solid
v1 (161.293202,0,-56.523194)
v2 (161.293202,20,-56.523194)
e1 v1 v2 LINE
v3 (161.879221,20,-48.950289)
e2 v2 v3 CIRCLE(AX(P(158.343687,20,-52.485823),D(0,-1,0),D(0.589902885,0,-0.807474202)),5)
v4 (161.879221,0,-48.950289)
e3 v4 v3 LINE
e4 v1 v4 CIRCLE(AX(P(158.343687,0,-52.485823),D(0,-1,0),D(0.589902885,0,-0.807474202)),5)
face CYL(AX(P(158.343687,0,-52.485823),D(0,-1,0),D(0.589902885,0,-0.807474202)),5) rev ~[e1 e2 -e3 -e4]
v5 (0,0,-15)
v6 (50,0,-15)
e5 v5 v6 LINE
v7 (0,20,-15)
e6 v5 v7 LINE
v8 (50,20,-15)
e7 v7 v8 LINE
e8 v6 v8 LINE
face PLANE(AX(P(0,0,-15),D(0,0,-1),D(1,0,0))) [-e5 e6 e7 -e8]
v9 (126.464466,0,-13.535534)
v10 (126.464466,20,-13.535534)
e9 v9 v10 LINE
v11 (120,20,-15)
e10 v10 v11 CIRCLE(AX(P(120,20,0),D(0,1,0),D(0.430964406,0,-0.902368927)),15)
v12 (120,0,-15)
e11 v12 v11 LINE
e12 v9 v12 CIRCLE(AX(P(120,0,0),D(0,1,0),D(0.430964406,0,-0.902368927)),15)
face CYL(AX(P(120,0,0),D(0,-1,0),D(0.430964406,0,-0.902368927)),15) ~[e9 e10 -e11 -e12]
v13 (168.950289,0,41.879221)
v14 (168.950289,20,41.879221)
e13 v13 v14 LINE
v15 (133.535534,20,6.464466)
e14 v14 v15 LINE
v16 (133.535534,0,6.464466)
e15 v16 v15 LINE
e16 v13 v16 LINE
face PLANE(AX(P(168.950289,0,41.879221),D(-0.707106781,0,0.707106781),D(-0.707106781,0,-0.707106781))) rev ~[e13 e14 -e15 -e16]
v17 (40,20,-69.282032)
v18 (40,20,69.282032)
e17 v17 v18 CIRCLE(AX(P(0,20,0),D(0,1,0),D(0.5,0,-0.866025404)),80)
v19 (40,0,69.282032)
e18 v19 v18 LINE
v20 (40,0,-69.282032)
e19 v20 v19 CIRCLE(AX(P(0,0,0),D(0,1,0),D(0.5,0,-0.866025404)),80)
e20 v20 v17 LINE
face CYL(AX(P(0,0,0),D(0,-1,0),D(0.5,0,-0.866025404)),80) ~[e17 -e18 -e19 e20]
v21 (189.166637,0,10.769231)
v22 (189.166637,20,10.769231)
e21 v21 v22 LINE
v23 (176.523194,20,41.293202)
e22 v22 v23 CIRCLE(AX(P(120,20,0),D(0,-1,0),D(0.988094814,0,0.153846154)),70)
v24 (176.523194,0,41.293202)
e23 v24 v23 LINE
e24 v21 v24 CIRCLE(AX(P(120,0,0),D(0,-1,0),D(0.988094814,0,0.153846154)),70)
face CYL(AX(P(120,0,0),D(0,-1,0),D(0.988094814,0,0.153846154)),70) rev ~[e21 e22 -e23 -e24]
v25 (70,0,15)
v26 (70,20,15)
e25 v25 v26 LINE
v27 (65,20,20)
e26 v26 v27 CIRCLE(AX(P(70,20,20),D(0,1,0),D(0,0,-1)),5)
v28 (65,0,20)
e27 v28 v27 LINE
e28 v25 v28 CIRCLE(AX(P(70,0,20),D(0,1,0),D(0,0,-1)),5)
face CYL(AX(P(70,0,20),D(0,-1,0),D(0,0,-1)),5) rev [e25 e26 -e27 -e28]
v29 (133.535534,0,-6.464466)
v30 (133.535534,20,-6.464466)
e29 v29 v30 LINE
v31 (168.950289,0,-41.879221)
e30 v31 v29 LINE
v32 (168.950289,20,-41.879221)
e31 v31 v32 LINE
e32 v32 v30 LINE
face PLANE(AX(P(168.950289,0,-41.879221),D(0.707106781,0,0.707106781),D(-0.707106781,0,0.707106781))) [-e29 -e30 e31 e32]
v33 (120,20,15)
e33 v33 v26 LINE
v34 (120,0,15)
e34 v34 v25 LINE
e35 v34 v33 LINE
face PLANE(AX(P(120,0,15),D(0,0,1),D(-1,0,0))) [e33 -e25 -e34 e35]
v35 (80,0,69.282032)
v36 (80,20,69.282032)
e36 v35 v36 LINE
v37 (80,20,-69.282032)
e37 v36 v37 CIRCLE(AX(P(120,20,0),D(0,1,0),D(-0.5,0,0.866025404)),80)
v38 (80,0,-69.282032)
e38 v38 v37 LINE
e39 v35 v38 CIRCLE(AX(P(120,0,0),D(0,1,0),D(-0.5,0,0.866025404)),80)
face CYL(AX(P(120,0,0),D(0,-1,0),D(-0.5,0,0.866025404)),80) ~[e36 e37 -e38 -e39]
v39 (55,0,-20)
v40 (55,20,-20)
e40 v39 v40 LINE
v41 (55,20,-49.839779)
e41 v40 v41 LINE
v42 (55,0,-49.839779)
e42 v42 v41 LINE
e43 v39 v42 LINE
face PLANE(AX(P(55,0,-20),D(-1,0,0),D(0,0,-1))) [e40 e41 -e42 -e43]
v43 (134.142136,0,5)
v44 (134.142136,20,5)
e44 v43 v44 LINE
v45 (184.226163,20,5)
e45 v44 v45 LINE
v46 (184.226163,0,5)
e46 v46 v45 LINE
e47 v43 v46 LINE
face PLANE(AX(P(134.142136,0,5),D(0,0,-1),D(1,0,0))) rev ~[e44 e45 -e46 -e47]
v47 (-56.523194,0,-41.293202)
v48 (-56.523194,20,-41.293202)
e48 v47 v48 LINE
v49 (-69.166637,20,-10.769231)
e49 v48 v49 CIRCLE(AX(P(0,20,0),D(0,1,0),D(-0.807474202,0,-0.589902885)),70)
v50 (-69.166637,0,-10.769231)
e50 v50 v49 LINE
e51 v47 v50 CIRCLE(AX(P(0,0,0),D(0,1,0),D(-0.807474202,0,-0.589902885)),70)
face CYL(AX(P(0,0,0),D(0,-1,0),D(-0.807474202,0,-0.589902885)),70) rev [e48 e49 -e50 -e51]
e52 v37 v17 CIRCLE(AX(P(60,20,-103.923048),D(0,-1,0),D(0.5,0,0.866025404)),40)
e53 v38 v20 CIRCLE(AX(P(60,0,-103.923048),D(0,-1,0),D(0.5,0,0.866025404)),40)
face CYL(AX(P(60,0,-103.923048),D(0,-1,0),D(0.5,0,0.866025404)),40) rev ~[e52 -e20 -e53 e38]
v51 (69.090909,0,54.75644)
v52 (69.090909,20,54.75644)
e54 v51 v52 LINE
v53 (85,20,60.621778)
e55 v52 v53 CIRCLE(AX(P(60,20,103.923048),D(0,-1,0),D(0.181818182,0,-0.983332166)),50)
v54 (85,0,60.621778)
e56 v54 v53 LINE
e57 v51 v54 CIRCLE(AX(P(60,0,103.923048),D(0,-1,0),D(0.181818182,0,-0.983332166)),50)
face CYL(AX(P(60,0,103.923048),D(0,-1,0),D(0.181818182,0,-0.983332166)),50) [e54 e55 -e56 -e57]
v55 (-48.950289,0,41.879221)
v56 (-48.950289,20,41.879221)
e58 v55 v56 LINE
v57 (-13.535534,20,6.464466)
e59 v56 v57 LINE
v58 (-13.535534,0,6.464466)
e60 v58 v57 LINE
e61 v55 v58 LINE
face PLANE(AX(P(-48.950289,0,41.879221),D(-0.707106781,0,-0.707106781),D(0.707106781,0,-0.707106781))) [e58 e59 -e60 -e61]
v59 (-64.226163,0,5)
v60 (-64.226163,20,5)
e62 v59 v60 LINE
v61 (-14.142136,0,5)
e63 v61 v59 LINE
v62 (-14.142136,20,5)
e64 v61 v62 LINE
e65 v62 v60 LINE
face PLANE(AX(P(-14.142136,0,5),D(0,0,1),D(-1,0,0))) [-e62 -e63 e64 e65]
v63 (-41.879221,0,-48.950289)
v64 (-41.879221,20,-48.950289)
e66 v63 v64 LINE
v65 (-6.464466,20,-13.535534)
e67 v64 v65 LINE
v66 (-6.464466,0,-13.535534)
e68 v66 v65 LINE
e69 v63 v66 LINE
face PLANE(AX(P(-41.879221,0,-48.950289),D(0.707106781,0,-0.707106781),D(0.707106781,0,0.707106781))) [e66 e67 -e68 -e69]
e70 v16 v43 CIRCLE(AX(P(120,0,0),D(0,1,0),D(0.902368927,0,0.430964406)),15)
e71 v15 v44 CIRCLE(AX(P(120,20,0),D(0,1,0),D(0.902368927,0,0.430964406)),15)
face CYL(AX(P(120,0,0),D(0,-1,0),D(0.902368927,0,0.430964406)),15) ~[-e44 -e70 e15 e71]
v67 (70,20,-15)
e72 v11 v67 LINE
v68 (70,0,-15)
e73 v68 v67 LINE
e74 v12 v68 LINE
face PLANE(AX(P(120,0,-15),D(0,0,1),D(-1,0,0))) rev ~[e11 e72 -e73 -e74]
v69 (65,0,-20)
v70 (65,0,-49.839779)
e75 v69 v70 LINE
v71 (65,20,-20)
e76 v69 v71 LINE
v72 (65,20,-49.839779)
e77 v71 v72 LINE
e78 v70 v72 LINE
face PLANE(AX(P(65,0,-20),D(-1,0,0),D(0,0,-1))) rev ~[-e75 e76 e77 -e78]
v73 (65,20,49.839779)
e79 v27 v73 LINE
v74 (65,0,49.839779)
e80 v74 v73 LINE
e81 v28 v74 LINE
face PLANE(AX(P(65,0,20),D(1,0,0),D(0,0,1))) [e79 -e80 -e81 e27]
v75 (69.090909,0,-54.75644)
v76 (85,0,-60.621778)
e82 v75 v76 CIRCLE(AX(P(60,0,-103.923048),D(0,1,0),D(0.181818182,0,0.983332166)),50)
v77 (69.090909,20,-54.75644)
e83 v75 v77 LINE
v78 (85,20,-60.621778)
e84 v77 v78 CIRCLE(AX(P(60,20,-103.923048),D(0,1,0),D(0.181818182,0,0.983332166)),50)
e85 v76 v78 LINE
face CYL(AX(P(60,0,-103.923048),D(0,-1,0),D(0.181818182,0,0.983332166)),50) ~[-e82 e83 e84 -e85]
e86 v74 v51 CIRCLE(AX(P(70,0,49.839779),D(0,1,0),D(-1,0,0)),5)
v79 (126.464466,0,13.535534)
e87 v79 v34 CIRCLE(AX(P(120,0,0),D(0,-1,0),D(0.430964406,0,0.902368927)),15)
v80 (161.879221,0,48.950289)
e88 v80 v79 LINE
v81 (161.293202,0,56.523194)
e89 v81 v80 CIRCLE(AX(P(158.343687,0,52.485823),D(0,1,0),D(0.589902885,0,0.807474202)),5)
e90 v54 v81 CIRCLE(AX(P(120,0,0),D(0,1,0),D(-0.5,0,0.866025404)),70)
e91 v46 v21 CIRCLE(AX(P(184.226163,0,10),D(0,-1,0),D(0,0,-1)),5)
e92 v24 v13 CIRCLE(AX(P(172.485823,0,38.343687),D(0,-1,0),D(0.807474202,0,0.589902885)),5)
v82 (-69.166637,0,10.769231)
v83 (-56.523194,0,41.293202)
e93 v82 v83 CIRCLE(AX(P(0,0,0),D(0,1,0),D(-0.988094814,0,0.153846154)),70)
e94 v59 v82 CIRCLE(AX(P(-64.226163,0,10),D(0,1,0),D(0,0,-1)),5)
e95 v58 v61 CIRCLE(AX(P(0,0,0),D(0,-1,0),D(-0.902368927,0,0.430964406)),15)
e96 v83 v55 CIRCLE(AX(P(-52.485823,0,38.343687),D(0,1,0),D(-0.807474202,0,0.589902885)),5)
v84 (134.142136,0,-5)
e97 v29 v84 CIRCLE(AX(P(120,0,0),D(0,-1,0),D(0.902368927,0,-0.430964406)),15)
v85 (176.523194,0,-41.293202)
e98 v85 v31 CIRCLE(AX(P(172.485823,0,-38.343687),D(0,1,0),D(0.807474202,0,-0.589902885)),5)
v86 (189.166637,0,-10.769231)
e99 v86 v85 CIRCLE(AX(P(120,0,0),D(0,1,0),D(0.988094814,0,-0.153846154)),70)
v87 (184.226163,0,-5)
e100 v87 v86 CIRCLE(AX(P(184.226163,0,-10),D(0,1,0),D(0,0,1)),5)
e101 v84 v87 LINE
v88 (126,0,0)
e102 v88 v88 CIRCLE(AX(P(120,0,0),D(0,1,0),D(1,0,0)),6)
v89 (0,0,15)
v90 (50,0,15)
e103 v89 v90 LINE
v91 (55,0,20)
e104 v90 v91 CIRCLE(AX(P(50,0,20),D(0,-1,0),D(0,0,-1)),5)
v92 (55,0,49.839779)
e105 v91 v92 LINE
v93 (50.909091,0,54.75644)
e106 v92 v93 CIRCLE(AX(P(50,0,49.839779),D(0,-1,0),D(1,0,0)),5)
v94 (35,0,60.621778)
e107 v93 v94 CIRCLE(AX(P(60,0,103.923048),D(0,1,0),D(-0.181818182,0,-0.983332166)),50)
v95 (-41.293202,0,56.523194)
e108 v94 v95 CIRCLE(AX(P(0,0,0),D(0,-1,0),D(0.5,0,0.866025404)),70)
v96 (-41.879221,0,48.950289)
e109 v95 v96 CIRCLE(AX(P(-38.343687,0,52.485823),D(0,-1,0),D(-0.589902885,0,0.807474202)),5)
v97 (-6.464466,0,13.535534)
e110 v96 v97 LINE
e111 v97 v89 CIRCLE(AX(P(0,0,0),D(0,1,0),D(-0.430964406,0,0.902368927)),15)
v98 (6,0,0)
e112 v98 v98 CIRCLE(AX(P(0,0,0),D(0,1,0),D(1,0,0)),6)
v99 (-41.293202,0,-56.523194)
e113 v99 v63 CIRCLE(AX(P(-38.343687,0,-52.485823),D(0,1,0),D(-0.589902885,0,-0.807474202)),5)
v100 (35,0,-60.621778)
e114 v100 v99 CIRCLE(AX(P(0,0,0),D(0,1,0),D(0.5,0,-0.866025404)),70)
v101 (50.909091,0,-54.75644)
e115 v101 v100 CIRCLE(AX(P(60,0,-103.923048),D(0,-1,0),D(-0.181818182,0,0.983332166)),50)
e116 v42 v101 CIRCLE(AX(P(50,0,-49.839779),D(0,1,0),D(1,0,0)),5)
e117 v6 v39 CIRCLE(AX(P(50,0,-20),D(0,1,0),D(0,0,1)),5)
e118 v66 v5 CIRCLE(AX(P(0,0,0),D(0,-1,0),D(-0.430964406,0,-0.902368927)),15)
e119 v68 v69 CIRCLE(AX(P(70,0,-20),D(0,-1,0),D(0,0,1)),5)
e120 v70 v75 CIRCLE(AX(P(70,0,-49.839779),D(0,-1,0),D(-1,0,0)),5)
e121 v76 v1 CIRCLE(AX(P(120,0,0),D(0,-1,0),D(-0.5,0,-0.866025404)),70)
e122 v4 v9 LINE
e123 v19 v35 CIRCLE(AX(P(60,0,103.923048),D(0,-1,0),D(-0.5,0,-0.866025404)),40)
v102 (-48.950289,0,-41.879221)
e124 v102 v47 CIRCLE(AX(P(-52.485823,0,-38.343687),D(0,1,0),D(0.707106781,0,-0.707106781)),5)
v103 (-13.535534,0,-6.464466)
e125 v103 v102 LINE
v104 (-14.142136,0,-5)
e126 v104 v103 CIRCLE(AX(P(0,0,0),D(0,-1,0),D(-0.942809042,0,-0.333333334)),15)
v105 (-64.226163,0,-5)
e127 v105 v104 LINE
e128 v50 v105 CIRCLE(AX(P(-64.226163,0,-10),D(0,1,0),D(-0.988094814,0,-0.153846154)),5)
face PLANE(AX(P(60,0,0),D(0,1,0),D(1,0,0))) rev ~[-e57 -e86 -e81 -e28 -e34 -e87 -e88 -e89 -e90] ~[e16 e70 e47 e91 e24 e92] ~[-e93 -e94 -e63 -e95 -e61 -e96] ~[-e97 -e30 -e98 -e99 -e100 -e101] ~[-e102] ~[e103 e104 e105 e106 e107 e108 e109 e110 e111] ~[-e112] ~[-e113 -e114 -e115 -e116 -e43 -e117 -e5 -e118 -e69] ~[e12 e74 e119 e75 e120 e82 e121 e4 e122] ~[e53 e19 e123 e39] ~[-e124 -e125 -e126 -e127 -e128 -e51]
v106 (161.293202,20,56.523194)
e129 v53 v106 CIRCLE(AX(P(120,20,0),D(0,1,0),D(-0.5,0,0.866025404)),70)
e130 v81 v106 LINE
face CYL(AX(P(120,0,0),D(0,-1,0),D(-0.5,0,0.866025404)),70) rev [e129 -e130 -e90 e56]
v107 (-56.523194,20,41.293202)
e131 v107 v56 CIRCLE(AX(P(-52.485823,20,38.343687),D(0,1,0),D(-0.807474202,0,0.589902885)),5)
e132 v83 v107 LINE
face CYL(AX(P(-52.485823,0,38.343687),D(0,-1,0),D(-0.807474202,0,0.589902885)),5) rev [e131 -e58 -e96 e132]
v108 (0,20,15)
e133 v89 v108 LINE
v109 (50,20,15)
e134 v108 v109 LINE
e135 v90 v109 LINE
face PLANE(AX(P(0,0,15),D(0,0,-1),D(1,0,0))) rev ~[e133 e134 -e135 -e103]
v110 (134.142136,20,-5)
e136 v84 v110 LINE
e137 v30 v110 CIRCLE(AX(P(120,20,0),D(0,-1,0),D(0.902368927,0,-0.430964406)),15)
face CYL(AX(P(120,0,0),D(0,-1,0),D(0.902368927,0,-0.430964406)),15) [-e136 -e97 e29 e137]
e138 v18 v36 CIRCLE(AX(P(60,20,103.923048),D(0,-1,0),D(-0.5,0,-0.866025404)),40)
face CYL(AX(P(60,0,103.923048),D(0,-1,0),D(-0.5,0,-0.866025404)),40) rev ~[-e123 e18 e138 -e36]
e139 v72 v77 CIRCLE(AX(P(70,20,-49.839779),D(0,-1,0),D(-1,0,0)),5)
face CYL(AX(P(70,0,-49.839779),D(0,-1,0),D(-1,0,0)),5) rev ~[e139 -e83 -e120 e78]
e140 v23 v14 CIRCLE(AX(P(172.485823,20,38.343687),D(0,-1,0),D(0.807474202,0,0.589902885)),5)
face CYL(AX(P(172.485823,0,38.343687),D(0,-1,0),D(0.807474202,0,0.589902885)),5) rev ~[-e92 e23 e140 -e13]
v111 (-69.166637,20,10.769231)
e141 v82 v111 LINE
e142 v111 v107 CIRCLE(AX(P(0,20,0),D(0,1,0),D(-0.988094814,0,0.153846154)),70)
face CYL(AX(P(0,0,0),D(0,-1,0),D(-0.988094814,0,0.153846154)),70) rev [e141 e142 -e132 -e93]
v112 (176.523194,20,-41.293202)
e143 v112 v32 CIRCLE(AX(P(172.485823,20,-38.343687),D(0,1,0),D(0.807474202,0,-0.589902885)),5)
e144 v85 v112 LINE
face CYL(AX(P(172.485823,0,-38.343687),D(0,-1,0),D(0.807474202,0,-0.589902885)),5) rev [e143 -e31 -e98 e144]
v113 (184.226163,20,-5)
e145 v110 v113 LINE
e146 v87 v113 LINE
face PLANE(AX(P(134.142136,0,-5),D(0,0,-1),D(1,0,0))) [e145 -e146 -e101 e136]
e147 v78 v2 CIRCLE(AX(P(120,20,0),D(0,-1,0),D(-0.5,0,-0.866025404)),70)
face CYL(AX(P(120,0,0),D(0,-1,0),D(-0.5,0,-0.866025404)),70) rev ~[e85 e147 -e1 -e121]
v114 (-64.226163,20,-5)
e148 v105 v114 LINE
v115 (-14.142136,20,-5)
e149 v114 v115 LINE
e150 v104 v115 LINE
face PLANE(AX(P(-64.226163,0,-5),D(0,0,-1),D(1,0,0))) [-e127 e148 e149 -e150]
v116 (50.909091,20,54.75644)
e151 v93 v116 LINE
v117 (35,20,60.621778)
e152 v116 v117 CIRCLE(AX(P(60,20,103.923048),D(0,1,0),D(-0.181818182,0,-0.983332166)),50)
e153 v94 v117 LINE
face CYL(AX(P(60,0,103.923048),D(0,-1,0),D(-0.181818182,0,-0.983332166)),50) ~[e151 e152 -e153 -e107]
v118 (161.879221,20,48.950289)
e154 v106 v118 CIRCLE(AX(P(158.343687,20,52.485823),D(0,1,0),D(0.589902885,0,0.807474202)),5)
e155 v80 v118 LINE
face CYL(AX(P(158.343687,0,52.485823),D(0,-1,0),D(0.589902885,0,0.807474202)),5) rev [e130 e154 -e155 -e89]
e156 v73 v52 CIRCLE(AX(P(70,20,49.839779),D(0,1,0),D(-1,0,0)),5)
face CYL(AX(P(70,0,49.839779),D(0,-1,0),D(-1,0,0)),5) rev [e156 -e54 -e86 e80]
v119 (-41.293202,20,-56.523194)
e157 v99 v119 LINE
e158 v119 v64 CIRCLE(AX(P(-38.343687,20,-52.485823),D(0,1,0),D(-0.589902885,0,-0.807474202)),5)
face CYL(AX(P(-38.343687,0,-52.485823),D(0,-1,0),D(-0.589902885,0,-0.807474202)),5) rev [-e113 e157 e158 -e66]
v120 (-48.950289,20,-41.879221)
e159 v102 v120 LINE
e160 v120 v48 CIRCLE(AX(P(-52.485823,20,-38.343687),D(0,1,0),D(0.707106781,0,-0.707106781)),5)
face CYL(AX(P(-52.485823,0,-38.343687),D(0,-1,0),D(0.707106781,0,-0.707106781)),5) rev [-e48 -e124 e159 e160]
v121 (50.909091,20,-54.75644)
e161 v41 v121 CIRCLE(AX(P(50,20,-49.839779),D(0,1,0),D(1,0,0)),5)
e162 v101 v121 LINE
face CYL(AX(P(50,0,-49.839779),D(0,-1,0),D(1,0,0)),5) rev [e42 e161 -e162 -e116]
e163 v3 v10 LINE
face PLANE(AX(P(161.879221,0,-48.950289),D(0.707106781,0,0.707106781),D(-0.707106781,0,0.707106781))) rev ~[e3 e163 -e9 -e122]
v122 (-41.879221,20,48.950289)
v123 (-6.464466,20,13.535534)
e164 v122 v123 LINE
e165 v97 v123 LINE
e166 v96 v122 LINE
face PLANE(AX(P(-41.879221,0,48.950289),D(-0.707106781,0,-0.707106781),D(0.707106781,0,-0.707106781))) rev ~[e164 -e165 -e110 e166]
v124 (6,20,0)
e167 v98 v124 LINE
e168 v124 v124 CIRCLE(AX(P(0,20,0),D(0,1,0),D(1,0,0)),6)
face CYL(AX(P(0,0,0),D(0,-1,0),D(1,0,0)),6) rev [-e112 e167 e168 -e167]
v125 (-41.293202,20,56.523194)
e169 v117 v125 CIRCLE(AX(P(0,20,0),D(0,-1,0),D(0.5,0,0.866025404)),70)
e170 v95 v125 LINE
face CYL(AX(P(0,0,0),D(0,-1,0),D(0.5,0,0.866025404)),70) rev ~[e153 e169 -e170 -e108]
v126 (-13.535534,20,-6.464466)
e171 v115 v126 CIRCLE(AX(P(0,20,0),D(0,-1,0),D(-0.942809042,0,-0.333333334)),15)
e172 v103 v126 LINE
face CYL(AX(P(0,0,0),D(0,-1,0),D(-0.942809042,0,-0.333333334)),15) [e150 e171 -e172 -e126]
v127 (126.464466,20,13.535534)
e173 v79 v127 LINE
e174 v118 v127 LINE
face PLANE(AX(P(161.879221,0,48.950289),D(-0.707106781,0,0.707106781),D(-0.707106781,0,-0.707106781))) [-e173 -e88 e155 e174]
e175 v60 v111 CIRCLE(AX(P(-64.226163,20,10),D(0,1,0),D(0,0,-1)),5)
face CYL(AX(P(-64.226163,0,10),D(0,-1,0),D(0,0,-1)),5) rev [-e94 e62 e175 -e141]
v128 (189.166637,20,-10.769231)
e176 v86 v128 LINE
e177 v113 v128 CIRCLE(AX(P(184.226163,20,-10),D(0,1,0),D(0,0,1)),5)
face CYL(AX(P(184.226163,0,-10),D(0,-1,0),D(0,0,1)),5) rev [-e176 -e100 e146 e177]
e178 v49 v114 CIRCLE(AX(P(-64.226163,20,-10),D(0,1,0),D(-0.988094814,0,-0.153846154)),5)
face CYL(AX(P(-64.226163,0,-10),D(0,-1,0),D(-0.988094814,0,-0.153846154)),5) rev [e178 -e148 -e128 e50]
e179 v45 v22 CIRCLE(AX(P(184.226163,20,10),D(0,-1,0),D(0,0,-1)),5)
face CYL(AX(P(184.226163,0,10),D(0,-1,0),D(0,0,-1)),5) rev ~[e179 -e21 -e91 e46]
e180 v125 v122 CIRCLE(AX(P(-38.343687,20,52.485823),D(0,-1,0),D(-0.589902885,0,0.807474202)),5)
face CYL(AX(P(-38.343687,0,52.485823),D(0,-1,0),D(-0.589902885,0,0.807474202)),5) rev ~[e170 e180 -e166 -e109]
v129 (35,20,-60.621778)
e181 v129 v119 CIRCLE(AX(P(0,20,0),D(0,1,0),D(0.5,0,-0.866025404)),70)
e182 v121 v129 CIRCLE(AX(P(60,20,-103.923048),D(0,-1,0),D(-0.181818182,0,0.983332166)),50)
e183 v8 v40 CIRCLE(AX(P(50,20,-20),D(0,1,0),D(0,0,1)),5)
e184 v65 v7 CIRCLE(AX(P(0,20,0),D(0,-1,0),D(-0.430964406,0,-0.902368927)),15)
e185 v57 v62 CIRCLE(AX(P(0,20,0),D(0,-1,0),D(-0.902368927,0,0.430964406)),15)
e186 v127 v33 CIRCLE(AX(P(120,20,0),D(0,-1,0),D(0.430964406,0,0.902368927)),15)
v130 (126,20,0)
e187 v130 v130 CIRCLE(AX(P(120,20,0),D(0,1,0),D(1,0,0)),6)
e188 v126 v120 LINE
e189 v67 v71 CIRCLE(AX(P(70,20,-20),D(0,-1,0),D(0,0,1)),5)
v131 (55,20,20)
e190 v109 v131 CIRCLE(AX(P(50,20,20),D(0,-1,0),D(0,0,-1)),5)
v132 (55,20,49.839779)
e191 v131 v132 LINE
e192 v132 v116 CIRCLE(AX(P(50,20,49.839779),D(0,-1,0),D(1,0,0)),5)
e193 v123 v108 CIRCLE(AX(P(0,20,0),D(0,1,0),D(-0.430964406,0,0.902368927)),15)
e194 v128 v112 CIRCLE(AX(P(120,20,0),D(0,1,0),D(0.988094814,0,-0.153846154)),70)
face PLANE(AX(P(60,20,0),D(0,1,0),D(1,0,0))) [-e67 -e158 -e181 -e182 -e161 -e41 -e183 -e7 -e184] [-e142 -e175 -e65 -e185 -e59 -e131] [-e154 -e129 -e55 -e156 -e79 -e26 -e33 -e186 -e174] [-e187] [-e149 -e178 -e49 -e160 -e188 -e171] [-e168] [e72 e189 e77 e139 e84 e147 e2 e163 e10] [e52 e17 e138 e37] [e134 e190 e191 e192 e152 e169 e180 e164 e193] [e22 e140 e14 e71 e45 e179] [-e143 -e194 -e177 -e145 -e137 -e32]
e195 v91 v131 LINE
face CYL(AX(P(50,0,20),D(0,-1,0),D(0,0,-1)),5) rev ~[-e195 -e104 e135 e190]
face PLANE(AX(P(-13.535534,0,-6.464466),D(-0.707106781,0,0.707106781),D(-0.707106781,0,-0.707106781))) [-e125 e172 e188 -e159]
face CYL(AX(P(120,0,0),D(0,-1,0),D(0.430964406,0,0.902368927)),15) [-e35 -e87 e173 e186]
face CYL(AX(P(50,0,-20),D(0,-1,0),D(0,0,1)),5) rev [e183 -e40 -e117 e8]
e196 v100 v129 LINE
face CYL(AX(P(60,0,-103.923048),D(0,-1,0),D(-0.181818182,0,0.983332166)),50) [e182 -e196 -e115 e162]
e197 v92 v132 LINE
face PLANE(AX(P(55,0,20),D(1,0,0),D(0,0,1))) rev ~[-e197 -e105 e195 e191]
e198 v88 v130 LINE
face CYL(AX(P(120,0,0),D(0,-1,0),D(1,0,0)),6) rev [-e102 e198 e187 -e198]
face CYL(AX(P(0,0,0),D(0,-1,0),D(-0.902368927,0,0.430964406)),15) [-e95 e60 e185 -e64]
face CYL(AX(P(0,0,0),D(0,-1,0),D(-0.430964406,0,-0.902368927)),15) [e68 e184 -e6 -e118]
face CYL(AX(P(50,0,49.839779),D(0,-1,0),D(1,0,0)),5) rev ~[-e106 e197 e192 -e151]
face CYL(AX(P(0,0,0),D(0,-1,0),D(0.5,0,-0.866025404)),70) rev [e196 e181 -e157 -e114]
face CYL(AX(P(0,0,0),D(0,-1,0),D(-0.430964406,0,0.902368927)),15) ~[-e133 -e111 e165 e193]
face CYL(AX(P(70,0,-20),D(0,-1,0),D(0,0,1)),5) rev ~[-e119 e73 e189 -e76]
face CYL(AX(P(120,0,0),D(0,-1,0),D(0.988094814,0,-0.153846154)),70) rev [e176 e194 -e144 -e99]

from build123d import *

# Parameters (mm, degrees)
SKETCH1_R           = 6
BOSS_EXTRUDE1_DEPTH = 20


with BuildPart() as part:
    # Sketch1 → Boss-Extrude1 (new body)
    with BuildSketch(Plane(origin=(0, 0, 0), x_dir=(1, 0, 0), z_dir=(0, 1, 0))):
        with BuildLine():
            ThreePointArc((40, 69.282032303), (-80, 0), (40, -69.282032303))
            ThreePointArc((40, -69.282032303), (60, -63.923048454), (80, -69.282032303))
            ThreePointArc((80, -69.282032303), (200, 0), (80, 69.282032303))
            ThreePointArc((80, 69.282032303), (60, 63.923048454), (40, 69.282032303))
        make_face()
        Circle(SKETCH1_R, mode=Mode.SUBTRACT)
        with Locations((120, 0)):
            Circle(SKETCH1_R, mode=Mode.SUBTRACT)
        with BuildLine():
            Line((55, 20), (55, 49.839779322))
            ThreePointArc((55, 49.839779322), (53.843530574, 53.037790068), (50.909090909, 54.756440152))
            ThreePointArc((50.909090909, 54.756440152), (42.704102554, 57.009810114), (35, 60.621778265))
            ThreePointArc((35, 60.621778265), (-3.755089291, 69.899208182), (-41.293201923, 56.523194133))
            ThreePointArc((-41.293201923, 56.523194133), (-43.328783805, 52.871588373), (-41.879221406, 48.950289217))
            Line((-41.879221406, 48.950289217), (-6.464466094, 13.535533906))
            ThreePointArc((-6.464466094, 13.535533906), (-3.31413574, 14.629302933), (0, 15))
            Line((0, 15), (50, 15))
            ThreePointArc((50, 15), (53.535533906, 16.464466094), (55, 20))
        make_face(mode=Mode.SUBTRACT)
        with BuildLine():
            Line((0, -15), (50, -15))
            ThreePointArc((50, -15), (53.535533906, -16.464466094), (55, -20))
            Line((55, -20), (55, -49.839779322))
            ThreePointArc((55, -49.839779322), (53.843530574, -53.037790068), (50.909090909, -54.756440152))
            ThreePointArc((50.909090909, -54.756440152), (42.704102554, -57.009810114), (35, -60.621778265))
            ThreePointArc((35, -60.621778265), (-3.755089291, -69.899208182), (-41.293201923, -56.523194133))
            ThreePointArc((-41.293201923, -56.523194133), (-43.328783805, -52.871588373), (-41.879221406, -48.950289217))
            Line((-41.879221406, -48.950289217), (-6.464466094, -13.535533906))
            ThreePointArc((-6.464466094, -13.535533906), (-3.31413574, -14.629302933), (0, -15))
        make_face(mode=Mode.SUBTRACT)
        with BuildLine():
            Line((65, 20), (65, 49.839779322))
            ThreePointArc((65, 49.839779322), (66.156469426, 53.037790068), (69.090909091, 54.756440152))
            ThreePointArc((69.090909091, 54.756440152), (77.295897446, 57.009810114), (85, 60.621778265))
            ThreePointArc((85, 60.621778265), (123.755089291, 69.899208182), (161.293201923, 56.523194133))
            ThreePointArc((161.293201923, 56.523194133), (163.328783805, 52.871588373), (161.879221406, 48.950289217))
            Line((161.879221406, 48.950289217), (126.464466094, 13.535533906))
            ThreePointArc((126.464466094, 13.535533906), (123.31413574, 14.629302933), (120, 15))
            Line((120, 15), (70, 15))
            ThreePointArc((70, 15), (66.464466094, 16.464466094), (65, 20))
        make_face(mode=Mode.SUBTRACT)
        with BuildLine():
            Line((65, -20), (65, -49.839779322))
            ThreePointArc((65, -49.839779322), (66.156469426, -53.037790068), (69.090909091, -54.756440152))
            ThreePointArc((69.090909091, -54.756440152), (77.295897446, -57.009810114), (85, -60.621778265))
            ThreePointArc((85, -60.621778265), (123.755089291, -69.899208182), (161.293201923, -56.523194133))
            ThreePointArc((161.293201923, -56.523194133), (163.328783805, -52.871588373), (161.879221406, -48.950289217))
            Line((161.879221406, -48.950289217), (126.464466094, -13.535533906))
            ThreePointArc((126.464466094, -13.535533906), (123.31413574, -14.629302933), (120, -15))
            Line((120, -15), (70, -15))
            ThreePointArc((70, -15), (66.464466094, -16.464466094), (65, -20))
        make_face(mode=Mode.SUBTRACT)
        with BuildLine():
            Line((134.142135624, 5), (184.226162893, 5))
            ThreePointArc((184.226162893, 5), (188.02393552, 6.747781822), (189.166636962, 10.769230769))
            ThreePointArc((189.166636962, 10.769230769), (184.671567276, 26.787840266), (176.523194133, 41.293201923))
            ThreePointArc((176.523194133, 41.293201923), (172.871588373, 43.328783805), (168.950289217, 41.879221406))
            Line((168.950289217, 41.879221406), (133.535533906, 6.464466094))
            ThreePointArc((133.535533906, 6.464466094), (133.858192988, 5.740251485), (134.142135624, 5))
        make_face(mode=Mode.SUBTRACT)
        with BuildLine():
            Line((134.142135624, -5), (184.226162893, -5))
            ThreePointArc((184.226162893, -5), (188.02393552, -6.747781822), (189.166636962, -10.769230769))
            ThreePointArc((189.166636962, -10.769230769), (184.671567276, -26.787840266), (176.523194133, -41.293201923))
            ThreePointArc((176.523194133, -41.293201923), (172.871588373, -43.328783805), (168.950289217, -41.879221406))
            Line((168.950289217, -41.879221406), (133.535533906, -6.464466094))
            ThreePointArc((133.535533906, -6.464466094), (133.858192988, -5.740251485), (134.142135624, -5))
        make_face(mode=Mode.SUBTRACT)
        with BuildLine():
            Line((-13.535533906, 6.464466094), (-48.950289217, 41.879221406))
            ThreePointArc((-48.950289217, 41.879221406), (-52.871588373, 43.328783805), (-56.523194133, 41.293201923))
            ThreePointArc((-56.523194133, 41.293201923), (-64.671567276, 26.787840266), (-69.166636962, 10.769230769))
            ThreePointArc((-69.166636962, 10.769230769), (-68.02393552, 6.747781822), (-64.226162893, 5))
            Line((-64.226162893, 5), (-14.142135624, 5))
            ThreePointArc((-14.142135624, 5), (-13.858192988, 5.740251485), (-13.535533906, 6.464466094))
        make_face(mode=Mode.SUBTRACT)
        with BuildLine():
            Line((-14.142135624, -5), (-64.226162893, -5))
            ThreePointArc((-64.226162893, -5), (-68.02393552, -6.747781822), (-69.166636962, -10.769230769))
            ThreePointArc((-69.166636962, -10.769230769), (-64.671567276, -26.787840266), (-56.523194133, -41.293201923))
            ThreePointArc((-56.523194133, -41.293201923), (-52.871588373, -43.328783805), (-48.950289217, -41.879221406))
            Line((-48.950289217, -41.879221406), (-13.535533906, -6.464466094))
            ThreePointArc((-13.535533906, -6.464466094), (-13.858192988, -5.740251485), (-14.142135624, -5))
        make_face(mode=Mode.SUBTRACT)
    extrude(amount=BOSS_EXTRUDE1_DEPTH)


solid = part.part
